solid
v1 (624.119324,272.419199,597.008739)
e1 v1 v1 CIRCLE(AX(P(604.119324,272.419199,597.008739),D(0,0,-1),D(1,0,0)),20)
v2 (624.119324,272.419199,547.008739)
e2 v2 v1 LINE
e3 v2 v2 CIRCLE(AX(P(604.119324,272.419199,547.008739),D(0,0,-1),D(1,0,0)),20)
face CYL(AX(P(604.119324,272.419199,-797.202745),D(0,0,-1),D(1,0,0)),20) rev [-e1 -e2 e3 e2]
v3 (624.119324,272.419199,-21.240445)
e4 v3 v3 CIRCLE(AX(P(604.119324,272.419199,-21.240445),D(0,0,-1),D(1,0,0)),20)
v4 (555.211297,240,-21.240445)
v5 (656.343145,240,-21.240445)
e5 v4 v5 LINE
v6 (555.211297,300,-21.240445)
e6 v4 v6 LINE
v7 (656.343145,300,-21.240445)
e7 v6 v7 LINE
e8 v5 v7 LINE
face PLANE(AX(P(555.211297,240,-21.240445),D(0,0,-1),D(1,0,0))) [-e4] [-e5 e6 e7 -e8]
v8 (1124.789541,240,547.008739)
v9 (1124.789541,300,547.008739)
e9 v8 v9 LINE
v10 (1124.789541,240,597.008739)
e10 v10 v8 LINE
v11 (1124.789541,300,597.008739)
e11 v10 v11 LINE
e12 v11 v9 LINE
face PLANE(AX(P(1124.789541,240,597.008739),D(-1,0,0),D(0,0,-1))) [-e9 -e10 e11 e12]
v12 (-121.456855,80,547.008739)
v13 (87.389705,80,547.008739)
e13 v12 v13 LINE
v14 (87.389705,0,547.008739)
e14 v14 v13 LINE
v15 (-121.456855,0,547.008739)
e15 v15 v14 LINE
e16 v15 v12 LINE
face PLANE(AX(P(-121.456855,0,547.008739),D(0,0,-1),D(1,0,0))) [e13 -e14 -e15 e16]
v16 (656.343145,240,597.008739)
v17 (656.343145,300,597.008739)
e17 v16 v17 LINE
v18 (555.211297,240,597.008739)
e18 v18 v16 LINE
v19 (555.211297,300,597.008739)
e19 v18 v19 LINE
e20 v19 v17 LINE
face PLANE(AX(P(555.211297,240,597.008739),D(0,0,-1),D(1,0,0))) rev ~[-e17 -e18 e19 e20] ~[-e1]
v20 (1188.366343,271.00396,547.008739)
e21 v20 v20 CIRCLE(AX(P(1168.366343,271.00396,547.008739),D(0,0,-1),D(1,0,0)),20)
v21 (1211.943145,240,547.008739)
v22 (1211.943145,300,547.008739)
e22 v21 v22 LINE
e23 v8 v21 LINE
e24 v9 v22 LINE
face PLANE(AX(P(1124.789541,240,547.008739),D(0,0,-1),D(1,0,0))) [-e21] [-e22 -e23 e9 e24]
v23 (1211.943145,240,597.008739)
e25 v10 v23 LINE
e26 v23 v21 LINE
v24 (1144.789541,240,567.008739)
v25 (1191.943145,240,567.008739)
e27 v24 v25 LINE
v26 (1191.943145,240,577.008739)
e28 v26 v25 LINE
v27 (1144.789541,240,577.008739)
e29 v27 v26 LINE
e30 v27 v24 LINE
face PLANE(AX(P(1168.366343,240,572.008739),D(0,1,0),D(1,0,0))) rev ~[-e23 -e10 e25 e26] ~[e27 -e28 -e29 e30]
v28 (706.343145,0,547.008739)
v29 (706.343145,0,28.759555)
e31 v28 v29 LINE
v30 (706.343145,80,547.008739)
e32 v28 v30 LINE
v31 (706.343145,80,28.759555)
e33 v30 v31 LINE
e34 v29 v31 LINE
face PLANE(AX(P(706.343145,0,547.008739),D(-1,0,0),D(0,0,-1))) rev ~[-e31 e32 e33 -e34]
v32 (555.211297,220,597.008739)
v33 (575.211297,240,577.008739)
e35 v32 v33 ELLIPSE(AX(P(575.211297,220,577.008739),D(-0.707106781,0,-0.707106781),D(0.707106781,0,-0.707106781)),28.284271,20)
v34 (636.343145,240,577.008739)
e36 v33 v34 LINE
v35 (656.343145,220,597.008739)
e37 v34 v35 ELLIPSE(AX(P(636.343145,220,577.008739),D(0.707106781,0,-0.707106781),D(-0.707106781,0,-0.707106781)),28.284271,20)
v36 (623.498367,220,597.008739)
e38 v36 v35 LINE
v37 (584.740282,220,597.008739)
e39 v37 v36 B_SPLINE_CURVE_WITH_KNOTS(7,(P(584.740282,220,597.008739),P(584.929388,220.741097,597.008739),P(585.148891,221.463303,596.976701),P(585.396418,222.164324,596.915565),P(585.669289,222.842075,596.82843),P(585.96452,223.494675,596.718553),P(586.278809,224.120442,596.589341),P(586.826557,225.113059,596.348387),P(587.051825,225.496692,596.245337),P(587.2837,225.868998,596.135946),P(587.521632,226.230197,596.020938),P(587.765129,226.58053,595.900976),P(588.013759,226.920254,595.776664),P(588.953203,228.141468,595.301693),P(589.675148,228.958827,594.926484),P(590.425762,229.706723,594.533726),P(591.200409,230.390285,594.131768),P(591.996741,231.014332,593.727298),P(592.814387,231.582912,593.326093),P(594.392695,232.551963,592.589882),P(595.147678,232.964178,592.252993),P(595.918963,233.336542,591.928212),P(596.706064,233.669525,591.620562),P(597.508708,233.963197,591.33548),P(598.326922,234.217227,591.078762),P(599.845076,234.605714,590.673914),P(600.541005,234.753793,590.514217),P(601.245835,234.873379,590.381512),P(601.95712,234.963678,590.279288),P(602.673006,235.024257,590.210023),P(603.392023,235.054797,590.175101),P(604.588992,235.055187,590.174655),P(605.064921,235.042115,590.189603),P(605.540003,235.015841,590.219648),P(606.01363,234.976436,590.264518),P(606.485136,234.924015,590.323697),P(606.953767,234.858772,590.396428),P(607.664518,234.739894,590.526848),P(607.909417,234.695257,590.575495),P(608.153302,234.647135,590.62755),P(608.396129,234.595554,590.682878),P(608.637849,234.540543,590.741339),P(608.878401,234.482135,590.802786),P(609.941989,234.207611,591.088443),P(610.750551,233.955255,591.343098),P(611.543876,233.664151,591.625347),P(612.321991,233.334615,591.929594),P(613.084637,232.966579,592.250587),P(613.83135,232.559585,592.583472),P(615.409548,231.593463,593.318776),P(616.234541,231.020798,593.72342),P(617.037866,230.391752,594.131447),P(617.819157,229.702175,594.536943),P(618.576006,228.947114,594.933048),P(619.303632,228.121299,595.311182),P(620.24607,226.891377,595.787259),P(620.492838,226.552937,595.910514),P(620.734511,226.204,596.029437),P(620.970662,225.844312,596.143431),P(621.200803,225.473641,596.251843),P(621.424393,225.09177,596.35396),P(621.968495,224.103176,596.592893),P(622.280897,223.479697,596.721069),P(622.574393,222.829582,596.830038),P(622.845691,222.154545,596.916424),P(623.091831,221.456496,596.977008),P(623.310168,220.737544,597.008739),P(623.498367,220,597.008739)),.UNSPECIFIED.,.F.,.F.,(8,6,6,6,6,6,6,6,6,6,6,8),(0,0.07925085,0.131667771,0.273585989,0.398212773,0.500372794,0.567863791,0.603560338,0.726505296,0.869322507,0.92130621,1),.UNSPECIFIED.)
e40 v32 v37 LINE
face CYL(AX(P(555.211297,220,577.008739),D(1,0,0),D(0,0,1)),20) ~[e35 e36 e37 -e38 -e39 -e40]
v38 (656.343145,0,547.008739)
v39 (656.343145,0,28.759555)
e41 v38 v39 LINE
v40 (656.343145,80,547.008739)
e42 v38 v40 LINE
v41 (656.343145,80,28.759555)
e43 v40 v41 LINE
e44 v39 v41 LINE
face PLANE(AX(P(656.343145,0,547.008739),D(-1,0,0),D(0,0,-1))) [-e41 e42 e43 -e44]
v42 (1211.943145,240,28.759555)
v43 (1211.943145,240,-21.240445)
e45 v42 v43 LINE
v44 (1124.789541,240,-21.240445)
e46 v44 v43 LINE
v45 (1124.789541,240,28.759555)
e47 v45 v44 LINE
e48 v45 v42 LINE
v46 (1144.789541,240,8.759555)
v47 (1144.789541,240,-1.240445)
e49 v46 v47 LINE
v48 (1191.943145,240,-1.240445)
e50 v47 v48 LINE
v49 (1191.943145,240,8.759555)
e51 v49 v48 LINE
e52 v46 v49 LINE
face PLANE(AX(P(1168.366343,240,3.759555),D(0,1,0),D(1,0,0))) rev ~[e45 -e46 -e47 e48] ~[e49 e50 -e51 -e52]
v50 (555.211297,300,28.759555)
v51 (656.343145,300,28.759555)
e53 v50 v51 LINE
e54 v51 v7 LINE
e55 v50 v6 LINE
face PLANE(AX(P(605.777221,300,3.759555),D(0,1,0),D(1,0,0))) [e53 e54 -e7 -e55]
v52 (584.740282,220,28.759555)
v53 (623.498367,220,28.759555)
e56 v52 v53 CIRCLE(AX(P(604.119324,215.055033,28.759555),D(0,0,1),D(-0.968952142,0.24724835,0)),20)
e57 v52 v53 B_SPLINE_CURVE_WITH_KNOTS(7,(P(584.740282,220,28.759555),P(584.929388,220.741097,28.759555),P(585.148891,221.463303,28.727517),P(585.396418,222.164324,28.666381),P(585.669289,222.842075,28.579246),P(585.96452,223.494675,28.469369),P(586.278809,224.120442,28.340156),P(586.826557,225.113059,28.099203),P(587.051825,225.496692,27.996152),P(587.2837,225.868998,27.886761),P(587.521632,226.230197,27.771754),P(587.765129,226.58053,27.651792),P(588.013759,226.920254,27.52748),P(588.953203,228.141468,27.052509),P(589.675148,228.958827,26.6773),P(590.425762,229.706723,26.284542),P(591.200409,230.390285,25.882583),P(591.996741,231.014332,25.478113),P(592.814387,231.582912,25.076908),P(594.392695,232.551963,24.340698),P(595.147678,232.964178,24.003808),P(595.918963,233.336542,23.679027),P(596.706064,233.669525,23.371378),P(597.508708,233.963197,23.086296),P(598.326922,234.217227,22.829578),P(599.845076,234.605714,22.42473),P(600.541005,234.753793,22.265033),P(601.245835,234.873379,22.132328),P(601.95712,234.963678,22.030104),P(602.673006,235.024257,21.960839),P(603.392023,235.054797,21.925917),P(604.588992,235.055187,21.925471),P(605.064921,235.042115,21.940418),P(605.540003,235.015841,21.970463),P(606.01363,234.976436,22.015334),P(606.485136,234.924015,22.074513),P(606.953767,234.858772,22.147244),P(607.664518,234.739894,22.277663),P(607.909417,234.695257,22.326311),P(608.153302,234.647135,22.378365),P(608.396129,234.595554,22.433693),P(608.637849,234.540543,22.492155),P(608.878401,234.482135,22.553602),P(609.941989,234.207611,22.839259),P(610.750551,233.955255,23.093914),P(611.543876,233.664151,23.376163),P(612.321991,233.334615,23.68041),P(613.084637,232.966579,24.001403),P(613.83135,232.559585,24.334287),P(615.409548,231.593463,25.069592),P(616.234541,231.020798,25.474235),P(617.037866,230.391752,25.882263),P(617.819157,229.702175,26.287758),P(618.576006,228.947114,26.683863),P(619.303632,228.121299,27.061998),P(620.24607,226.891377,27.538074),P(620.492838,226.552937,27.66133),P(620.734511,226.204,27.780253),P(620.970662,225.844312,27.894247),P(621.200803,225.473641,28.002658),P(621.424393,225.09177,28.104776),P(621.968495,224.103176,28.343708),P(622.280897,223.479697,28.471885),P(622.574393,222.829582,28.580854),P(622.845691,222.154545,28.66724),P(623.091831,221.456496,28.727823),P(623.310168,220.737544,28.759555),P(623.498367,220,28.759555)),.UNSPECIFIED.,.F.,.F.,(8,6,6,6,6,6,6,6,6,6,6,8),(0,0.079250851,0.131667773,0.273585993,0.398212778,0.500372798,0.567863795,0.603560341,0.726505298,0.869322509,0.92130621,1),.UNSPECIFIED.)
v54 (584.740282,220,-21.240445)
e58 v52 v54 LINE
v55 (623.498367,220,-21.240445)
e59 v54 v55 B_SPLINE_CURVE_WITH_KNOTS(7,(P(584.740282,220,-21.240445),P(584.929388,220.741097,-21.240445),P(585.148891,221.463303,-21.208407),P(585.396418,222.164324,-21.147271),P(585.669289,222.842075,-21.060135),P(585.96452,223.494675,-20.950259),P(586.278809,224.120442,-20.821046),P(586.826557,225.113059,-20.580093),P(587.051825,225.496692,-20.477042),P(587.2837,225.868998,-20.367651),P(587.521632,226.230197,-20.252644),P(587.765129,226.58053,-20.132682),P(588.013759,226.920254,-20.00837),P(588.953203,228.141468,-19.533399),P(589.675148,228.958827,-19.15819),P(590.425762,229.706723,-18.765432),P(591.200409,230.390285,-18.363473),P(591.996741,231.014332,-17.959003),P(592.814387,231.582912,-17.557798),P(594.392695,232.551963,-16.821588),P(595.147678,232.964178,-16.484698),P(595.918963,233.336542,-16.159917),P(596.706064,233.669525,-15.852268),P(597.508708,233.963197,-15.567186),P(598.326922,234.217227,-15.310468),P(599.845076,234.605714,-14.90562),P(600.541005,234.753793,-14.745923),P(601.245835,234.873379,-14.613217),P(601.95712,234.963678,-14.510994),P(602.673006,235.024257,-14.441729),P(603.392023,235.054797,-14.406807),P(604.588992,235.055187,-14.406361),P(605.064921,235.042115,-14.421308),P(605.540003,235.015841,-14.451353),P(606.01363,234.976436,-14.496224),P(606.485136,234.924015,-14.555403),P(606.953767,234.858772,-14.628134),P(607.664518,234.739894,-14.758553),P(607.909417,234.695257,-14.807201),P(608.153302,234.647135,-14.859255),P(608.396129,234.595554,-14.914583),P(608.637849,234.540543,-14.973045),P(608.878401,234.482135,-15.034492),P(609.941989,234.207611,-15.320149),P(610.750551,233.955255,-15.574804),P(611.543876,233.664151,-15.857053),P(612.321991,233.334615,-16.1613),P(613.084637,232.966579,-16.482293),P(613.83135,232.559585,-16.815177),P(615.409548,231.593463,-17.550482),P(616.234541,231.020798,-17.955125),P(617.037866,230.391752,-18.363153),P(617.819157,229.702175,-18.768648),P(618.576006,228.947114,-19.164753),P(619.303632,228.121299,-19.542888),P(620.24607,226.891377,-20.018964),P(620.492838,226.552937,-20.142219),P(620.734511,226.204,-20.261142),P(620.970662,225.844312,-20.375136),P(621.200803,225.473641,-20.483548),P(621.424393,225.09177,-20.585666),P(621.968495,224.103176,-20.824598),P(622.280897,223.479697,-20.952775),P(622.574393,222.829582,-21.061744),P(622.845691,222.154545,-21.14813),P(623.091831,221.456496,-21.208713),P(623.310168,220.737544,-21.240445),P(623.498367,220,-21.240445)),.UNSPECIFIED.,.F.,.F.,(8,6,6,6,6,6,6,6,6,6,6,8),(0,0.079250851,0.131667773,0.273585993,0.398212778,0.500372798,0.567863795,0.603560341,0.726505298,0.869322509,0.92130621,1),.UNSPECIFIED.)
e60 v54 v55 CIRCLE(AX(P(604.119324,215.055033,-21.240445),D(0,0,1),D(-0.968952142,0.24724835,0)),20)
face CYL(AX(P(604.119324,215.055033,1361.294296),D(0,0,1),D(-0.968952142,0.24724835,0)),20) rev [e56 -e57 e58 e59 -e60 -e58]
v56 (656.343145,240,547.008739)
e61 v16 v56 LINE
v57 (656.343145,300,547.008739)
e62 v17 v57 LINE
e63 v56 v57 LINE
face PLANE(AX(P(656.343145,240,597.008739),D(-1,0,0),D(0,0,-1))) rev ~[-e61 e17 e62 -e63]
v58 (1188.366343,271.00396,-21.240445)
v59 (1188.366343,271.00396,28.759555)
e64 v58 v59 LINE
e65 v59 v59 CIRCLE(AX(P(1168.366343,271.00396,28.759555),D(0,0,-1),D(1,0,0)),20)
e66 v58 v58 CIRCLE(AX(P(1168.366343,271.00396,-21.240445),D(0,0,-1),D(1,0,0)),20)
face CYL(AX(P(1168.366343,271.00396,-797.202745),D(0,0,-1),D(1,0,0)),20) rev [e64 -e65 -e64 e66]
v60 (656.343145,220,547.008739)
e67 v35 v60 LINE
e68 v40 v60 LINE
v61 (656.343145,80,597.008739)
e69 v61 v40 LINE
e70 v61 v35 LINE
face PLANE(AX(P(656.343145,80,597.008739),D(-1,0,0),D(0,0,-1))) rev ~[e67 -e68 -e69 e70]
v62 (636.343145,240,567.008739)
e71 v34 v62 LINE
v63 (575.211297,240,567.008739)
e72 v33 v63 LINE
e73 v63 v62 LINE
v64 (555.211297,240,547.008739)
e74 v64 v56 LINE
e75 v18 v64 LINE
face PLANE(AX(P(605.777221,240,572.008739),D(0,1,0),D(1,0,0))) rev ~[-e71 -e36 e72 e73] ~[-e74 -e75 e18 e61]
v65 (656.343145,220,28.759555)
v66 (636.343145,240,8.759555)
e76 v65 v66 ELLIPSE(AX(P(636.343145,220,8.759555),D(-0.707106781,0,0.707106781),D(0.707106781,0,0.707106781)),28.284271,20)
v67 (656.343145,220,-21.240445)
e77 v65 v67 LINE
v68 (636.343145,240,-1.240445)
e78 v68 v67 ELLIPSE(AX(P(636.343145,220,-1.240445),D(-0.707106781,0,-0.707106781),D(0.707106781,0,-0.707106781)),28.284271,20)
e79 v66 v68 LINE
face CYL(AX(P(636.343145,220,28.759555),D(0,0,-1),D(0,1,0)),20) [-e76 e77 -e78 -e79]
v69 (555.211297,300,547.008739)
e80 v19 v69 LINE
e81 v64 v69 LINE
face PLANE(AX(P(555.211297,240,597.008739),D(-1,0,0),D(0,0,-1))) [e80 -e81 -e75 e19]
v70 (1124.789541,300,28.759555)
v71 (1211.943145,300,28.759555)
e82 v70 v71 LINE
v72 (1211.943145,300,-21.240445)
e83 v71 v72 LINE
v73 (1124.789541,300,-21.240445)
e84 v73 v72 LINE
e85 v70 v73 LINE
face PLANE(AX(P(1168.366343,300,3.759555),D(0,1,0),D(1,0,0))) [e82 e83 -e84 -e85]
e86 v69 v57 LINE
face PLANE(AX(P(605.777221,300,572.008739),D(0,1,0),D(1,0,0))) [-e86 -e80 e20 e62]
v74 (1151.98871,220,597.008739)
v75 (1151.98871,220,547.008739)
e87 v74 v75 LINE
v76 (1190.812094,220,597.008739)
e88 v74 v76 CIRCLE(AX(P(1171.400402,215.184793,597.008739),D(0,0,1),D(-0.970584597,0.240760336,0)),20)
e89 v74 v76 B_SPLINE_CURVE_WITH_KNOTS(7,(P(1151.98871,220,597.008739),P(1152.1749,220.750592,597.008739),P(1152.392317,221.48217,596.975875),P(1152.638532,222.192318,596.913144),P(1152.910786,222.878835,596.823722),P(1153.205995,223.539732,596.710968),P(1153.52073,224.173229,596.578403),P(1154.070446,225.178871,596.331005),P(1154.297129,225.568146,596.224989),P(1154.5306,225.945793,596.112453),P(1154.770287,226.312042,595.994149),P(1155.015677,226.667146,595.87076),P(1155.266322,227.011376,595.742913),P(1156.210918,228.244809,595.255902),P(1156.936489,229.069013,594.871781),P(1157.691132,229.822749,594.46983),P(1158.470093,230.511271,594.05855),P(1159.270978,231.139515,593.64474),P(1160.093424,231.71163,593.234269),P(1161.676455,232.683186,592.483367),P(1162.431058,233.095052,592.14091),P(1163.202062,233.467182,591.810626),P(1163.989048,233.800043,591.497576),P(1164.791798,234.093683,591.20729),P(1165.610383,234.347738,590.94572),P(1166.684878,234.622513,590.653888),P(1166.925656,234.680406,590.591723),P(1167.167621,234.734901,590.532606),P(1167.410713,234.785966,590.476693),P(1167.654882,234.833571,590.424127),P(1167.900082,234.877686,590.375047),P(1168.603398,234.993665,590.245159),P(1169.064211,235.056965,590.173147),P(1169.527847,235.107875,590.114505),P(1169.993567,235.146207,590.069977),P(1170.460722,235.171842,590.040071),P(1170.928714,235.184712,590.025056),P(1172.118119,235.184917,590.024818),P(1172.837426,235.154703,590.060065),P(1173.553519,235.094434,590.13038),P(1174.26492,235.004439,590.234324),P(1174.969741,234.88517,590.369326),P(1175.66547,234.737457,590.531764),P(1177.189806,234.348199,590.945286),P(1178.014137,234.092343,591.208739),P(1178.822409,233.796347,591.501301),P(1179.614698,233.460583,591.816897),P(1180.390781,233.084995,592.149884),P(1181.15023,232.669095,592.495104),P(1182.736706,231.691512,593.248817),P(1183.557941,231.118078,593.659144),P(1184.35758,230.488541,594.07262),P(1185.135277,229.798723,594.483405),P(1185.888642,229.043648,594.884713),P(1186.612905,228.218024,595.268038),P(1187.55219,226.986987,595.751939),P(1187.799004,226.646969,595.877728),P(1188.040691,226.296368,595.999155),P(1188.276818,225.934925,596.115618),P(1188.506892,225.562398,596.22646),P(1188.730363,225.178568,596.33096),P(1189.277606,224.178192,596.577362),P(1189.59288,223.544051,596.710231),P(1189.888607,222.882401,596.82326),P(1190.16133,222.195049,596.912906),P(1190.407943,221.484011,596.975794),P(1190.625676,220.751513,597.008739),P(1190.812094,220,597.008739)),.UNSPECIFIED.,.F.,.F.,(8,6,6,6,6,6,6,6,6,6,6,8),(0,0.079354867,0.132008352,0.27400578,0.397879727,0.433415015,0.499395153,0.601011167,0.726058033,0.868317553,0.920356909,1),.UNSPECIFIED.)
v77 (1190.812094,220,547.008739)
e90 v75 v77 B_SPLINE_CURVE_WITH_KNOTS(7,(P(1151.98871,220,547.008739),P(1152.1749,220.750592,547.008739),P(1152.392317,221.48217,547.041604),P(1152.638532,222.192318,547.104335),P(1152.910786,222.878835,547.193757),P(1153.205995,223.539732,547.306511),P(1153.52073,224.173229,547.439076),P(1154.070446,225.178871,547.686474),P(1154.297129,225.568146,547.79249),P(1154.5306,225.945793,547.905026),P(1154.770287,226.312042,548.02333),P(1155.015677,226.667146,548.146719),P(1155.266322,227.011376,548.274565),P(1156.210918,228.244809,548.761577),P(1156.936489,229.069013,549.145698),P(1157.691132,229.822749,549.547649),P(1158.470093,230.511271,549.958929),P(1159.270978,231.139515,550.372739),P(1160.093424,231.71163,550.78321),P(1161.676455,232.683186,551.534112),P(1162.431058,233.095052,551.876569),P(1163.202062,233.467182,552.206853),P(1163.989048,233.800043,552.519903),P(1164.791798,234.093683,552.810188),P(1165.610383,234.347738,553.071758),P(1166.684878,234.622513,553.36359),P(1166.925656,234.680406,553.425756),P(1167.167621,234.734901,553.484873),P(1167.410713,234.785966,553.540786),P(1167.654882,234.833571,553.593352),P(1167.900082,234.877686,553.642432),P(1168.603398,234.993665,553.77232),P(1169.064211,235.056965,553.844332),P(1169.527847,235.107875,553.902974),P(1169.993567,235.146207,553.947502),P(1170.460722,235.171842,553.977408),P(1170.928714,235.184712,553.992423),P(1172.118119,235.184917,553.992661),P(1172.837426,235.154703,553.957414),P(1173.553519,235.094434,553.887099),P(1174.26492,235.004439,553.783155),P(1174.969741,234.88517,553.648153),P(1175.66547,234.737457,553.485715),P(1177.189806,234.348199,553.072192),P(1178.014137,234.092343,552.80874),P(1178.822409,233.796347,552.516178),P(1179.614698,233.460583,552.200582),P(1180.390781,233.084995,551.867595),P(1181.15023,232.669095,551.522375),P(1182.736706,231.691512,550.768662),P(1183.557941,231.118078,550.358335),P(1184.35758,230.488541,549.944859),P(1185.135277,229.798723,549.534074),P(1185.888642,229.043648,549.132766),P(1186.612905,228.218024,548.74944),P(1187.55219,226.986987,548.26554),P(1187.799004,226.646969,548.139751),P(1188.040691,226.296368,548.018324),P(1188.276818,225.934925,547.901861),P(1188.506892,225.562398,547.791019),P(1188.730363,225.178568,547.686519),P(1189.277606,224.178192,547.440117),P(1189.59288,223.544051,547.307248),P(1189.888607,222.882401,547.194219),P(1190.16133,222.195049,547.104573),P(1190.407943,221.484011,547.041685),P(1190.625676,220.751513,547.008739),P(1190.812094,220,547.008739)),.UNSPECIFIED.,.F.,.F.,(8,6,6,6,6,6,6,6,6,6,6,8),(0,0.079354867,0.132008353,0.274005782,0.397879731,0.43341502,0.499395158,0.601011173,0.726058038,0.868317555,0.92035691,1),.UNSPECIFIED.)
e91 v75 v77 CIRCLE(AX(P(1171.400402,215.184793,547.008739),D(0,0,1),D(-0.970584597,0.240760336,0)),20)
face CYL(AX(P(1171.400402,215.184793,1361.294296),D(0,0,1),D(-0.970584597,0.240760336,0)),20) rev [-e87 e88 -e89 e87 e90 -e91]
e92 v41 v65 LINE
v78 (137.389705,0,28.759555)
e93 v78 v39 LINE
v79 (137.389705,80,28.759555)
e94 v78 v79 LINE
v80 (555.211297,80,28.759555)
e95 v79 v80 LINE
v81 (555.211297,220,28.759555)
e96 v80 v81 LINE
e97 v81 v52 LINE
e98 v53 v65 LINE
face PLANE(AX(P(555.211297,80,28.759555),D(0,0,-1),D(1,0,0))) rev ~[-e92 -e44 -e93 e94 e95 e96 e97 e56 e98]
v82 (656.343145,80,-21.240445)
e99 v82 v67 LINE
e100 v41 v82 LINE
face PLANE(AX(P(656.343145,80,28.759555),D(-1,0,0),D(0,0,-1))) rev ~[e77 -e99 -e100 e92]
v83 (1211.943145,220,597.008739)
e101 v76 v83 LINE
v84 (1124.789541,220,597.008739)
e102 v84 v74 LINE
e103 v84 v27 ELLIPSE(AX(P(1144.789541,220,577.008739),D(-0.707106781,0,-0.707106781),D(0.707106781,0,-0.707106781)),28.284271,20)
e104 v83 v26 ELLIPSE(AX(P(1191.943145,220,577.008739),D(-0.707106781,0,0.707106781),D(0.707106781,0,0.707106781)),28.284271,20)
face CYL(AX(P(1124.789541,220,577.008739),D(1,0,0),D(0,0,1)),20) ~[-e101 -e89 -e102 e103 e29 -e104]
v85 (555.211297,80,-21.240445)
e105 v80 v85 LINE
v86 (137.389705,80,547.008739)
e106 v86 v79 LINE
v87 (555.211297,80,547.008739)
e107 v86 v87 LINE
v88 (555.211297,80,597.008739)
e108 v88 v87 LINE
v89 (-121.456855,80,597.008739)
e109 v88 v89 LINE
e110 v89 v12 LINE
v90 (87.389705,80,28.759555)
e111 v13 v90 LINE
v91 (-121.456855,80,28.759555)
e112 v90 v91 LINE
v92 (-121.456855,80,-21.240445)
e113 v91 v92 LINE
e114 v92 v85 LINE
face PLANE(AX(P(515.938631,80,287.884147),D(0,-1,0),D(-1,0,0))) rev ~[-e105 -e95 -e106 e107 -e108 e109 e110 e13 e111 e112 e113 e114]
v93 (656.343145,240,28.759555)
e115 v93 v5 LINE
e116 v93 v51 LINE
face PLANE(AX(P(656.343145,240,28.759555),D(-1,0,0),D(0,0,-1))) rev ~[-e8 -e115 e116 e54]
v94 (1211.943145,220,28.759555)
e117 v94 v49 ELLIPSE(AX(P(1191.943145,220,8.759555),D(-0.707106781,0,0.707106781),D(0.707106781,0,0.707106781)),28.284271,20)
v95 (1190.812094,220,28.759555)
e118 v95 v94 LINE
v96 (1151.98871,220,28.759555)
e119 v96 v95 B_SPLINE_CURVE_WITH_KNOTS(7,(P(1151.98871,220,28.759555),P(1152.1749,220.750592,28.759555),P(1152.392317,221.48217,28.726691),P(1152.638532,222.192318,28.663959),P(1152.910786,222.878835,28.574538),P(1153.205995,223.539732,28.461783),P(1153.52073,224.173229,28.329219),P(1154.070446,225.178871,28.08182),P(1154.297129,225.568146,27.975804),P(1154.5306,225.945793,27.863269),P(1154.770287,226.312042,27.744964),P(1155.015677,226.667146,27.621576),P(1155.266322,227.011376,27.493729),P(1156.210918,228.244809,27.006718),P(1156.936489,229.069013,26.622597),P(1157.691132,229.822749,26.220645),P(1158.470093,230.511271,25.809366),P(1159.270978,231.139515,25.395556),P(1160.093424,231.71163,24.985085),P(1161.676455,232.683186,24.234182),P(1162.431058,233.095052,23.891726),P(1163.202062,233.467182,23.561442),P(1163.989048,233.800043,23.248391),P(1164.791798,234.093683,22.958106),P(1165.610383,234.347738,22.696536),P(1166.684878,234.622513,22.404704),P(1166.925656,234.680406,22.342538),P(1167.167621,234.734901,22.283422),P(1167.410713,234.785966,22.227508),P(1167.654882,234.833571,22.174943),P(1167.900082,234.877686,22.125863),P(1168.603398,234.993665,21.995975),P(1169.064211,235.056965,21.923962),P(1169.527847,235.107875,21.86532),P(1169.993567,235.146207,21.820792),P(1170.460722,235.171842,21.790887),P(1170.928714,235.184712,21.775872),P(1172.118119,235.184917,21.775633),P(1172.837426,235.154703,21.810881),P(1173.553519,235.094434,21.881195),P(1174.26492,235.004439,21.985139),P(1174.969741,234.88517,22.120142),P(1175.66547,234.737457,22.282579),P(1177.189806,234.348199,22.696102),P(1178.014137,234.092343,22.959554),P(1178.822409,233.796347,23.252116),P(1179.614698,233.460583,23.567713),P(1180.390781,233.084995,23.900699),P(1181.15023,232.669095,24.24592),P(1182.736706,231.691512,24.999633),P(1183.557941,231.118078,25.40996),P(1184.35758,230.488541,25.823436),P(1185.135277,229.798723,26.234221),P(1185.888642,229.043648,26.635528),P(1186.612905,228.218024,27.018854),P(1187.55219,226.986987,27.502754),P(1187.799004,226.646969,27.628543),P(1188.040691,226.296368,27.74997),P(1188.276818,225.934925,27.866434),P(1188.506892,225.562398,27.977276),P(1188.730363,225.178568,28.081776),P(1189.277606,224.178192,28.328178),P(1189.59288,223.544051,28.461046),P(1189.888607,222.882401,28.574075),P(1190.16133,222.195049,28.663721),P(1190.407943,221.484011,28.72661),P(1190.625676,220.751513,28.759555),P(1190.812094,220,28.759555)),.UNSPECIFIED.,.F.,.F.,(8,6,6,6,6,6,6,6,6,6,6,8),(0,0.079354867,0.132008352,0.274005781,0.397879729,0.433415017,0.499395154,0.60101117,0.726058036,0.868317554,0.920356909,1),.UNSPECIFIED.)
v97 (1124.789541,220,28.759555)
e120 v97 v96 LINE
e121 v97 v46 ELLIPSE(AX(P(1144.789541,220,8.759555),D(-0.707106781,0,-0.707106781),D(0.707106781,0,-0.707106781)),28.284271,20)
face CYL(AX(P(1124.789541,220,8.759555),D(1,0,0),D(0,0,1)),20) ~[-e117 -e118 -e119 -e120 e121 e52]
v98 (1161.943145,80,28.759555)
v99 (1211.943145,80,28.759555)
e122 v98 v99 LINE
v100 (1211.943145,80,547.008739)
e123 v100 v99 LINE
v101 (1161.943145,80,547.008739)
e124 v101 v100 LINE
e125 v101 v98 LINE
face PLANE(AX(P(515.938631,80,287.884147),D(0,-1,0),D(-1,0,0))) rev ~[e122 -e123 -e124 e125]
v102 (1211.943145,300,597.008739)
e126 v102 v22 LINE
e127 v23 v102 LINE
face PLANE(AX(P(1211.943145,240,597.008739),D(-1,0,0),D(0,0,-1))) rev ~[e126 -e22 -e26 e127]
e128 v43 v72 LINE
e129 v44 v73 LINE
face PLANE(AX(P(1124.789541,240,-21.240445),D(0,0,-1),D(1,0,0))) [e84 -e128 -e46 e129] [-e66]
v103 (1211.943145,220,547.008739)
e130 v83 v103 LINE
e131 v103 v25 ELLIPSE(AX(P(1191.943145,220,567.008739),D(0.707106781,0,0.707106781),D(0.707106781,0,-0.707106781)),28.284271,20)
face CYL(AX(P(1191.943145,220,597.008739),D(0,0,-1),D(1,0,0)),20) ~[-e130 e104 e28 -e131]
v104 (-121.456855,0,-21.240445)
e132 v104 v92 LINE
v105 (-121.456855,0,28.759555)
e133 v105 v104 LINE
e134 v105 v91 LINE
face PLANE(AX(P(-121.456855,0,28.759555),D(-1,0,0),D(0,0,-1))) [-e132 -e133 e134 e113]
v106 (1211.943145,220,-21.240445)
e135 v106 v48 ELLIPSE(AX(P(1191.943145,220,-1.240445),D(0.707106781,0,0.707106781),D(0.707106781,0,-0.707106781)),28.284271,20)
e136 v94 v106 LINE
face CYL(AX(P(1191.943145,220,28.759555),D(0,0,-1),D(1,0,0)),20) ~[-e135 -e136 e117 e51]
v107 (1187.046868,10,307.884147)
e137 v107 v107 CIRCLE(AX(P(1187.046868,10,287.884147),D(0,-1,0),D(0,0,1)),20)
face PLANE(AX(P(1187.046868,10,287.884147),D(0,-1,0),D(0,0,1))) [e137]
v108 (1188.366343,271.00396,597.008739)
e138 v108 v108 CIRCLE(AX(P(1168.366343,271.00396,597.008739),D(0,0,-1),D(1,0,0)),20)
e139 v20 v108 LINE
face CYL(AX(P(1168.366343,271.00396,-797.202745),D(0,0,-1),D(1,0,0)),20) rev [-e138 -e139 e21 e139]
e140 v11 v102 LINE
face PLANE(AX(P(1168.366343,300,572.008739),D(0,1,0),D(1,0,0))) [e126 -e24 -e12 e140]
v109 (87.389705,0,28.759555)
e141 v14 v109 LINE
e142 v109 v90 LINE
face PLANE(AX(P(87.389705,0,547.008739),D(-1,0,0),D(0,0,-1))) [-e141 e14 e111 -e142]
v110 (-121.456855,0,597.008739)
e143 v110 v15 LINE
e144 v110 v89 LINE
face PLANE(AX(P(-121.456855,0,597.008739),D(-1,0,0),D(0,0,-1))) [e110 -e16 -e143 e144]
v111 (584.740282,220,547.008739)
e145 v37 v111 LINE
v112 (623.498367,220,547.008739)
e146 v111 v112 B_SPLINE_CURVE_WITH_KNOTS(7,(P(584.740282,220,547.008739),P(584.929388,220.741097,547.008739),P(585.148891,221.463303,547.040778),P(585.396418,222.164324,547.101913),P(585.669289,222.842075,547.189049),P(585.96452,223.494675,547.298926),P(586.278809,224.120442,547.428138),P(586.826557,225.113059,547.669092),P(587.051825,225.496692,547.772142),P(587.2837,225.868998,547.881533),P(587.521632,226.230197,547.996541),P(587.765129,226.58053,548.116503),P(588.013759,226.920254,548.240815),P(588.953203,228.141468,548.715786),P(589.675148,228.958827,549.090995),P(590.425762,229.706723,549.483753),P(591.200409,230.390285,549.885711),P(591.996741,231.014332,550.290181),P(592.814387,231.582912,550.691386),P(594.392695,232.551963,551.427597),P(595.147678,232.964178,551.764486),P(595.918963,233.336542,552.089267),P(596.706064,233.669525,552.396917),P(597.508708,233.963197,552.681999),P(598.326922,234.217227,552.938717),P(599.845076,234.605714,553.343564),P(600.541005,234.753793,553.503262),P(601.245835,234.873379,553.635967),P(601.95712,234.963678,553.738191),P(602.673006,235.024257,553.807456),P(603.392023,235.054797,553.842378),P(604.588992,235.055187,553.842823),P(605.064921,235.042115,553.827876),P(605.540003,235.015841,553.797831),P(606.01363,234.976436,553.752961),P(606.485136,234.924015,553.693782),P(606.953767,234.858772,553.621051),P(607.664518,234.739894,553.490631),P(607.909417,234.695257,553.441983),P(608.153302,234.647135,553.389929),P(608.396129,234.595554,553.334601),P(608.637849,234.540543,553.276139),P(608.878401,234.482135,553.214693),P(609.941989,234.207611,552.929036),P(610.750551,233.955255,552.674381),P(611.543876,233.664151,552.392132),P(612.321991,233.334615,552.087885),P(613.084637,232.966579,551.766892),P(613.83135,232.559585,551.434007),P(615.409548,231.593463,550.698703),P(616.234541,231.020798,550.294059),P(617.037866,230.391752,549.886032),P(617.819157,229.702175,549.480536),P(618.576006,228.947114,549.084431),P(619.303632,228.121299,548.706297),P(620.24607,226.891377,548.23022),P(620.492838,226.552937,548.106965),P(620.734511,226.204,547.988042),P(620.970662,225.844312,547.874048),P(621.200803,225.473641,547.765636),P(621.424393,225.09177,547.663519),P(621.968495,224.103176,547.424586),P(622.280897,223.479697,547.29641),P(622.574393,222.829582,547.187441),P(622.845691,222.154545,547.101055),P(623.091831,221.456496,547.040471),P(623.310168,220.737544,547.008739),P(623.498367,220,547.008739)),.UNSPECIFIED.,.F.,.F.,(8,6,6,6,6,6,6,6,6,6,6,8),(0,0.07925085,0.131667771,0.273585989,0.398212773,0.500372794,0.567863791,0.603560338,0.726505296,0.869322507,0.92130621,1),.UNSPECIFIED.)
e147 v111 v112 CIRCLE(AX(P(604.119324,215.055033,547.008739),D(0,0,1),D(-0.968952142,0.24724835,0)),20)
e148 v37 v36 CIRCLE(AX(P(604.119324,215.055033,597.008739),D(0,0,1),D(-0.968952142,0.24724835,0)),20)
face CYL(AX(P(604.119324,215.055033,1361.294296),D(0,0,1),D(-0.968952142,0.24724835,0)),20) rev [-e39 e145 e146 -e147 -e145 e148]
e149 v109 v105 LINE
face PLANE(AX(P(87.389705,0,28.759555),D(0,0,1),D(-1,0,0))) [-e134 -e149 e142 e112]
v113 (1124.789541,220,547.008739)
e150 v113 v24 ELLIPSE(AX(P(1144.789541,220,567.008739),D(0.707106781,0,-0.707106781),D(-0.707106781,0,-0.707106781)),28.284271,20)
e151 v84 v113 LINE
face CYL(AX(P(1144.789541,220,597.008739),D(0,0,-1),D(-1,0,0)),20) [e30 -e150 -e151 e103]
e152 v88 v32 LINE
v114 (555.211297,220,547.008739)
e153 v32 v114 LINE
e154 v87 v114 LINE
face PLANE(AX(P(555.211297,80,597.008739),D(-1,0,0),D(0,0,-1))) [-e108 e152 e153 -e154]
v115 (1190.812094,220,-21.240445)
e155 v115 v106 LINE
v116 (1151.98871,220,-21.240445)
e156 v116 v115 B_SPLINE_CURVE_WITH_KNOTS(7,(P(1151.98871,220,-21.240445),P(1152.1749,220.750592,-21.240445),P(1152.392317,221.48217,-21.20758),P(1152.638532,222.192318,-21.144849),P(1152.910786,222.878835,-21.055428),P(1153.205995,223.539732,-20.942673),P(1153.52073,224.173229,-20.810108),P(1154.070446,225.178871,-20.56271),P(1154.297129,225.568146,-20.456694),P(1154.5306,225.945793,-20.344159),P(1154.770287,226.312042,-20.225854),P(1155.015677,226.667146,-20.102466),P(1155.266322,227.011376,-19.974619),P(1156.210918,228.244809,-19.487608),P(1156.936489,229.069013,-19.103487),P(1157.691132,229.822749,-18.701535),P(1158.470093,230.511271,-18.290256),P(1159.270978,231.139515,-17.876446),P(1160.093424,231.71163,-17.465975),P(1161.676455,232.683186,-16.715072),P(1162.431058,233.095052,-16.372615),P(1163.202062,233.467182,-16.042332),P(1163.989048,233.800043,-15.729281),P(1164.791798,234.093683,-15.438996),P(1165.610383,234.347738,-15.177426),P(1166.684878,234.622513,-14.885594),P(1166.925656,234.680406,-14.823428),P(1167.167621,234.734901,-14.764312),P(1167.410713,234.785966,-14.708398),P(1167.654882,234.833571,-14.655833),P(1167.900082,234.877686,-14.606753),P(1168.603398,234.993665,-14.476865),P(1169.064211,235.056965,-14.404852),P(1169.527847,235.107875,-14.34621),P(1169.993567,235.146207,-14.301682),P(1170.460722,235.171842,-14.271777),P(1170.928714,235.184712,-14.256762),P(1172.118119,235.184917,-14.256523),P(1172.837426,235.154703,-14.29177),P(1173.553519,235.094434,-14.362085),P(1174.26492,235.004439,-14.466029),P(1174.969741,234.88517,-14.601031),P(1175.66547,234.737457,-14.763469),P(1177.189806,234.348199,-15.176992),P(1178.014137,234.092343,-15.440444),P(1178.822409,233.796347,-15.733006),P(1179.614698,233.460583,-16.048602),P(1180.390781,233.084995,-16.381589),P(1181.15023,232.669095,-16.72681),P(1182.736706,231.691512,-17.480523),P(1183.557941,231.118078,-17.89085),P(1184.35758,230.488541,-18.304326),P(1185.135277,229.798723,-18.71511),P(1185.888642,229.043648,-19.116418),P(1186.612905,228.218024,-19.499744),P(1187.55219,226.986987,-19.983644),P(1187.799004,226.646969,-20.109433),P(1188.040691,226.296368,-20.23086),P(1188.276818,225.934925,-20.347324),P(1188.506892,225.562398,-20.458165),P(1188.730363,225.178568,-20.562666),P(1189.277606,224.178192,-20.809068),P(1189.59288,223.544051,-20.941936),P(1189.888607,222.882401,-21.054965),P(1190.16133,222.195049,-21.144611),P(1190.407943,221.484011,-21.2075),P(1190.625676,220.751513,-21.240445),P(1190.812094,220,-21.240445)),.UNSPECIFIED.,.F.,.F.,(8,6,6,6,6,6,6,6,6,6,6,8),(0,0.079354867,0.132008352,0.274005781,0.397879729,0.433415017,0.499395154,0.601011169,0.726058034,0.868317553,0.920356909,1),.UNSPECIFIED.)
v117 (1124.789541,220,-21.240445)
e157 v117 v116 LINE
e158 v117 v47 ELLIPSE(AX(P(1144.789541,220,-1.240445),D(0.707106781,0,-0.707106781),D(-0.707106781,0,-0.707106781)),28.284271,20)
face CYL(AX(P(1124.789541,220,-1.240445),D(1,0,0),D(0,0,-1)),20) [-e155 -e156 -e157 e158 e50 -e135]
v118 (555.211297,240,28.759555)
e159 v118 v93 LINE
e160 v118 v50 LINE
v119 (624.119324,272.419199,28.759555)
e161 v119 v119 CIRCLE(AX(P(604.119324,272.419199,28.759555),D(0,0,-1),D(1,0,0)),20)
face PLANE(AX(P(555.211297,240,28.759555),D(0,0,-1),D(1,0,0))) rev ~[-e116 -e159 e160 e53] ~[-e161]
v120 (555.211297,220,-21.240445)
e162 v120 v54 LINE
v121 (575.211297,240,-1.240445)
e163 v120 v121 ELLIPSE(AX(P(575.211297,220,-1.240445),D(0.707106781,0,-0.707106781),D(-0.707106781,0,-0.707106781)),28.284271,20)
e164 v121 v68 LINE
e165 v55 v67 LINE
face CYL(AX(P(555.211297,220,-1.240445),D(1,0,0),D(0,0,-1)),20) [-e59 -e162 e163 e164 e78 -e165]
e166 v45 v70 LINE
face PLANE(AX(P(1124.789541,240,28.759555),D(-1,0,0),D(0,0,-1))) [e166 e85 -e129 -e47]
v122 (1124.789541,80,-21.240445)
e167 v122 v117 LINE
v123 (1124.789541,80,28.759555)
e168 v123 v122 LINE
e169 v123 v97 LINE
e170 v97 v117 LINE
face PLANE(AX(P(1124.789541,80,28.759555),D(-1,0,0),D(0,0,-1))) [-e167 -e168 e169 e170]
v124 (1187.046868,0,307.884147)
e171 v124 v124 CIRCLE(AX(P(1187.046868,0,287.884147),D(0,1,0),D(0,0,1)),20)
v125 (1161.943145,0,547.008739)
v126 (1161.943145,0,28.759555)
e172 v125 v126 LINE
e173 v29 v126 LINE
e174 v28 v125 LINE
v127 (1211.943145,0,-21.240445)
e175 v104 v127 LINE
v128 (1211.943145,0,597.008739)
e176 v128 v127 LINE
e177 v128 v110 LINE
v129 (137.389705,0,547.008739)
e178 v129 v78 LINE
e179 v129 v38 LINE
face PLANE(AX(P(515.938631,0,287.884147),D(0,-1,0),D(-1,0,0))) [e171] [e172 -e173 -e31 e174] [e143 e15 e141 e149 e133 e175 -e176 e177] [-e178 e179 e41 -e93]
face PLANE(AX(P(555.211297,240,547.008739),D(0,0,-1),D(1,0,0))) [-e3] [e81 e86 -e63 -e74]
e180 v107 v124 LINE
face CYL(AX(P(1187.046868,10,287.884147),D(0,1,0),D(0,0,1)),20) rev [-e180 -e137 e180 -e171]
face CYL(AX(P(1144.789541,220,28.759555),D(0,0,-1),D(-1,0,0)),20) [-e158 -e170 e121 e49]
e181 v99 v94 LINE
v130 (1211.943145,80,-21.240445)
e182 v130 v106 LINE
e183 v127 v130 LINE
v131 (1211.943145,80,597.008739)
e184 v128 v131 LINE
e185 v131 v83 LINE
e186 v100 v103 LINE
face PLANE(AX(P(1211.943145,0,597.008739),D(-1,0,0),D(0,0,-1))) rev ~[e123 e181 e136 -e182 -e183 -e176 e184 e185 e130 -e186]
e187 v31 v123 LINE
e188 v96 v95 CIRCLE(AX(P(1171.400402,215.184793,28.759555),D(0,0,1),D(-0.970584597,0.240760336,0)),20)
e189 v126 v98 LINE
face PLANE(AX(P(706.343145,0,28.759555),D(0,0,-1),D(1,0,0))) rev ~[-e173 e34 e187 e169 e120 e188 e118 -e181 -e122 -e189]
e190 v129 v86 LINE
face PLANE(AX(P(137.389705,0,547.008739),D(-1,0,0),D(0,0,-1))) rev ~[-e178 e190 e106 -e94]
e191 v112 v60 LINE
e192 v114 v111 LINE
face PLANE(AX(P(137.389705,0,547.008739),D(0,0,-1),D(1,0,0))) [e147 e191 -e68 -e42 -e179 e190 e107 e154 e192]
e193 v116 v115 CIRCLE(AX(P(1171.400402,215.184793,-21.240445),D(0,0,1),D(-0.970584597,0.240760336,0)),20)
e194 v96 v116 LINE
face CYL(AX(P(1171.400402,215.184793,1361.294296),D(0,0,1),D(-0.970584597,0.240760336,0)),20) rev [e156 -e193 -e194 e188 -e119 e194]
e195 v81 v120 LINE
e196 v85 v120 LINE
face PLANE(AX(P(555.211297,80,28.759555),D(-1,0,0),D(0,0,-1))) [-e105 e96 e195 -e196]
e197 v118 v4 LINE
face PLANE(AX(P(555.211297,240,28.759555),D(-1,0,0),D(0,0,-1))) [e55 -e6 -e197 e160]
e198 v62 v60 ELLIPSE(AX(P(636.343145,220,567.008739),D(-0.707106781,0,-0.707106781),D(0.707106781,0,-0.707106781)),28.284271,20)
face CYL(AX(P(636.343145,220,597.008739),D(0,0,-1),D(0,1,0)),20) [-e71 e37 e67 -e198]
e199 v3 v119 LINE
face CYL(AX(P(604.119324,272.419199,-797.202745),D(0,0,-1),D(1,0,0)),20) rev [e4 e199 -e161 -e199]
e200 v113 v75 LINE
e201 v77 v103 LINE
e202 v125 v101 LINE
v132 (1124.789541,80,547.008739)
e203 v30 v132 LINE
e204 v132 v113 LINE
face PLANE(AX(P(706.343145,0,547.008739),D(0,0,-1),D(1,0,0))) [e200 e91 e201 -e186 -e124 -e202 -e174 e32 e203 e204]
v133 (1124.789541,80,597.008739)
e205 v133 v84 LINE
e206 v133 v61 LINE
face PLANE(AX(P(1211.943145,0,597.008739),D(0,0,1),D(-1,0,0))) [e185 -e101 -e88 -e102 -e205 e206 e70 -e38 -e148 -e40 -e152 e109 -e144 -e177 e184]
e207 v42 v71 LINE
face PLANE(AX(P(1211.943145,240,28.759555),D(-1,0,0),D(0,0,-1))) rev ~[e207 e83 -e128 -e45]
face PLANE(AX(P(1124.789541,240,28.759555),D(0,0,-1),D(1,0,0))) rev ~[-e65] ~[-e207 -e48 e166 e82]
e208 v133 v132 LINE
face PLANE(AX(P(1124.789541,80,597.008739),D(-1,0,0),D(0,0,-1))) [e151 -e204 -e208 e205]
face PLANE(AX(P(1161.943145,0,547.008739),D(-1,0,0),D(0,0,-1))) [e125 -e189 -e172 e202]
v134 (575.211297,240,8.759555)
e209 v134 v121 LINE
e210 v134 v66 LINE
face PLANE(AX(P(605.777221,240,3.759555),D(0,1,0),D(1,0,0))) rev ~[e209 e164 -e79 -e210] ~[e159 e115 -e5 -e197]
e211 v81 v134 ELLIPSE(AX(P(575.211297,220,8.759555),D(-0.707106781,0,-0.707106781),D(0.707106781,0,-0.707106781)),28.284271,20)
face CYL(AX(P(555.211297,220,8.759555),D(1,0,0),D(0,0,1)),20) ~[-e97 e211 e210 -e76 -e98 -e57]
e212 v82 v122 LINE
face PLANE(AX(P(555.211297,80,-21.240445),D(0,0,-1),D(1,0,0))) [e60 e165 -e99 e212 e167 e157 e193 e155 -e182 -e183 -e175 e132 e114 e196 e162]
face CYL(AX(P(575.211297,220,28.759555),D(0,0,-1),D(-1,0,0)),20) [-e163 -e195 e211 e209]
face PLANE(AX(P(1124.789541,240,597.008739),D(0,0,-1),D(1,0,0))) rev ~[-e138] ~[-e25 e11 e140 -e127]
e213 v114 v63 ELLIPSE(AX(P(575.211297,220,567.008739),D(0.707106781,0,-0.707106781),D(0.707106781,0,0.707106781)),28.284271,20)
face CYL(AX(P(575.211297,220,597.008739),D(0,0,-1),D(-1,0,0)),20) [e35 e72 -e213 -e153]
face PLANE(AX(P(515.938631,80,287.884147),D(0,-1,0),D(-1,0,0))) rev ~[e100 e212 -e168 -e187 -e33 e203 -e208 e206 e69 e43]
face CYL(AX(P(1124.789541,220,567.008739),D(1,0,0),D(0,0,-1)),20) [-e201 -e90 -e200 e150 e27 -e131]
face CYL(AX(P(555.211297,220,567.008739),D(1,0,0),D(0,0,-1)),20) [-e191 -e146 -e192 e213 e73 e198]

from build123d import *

# Parameters (mm, degrees)
SKETCH1_W               = 518.953439809
SKETCH1_H               = 518.249184403
SKETCH1_W_2             = 455.6
BOSS_EXTRUDE3_DEPTH     = 80
SKETCH2_W               = 101.131848524
SKETCH2_H               = 50
SKETCH2_W_2             = 87.153604081
BOSS_EXTRUDE4_DEPTH     = 160
FILLET1_R               = 20
CUT_EXTRUDE3_DEPTH      = 1373.160931607
CUT_EXTRUDE3_DEPTH_BACK = 10
SKETCH5_R               = 20
CUT_EXTRUDE4_DEPTH      = 1382.534741242
CUT_EXTRUDE4_DEPTH_BACK = 1382.534741242
SKETCH3_R               = 20
CUT_EXTRUDE5_DEPTH      = 1382.534741304
CUT_EXTRUDE5_DEPTH_BACK = 1382.534741304
SKETCH4_R               = 20
SKETCH6_W               = 101.131848524
SKETCH6_H               = 50
BOSS_EXTRUDE5_DEPTH     = 60
CUT_EXTRUDE6_DEPTH      = 1394.211484888
CUT_EXTRUDE6_DEPTH_BACK = 1394.211484888
SKETCH7_R               = 20
SKETCH8_W               = 87.153604081
SKETCH8_H               = 50
BOSS_EXTRUDE6_DEPTH     = 60
CUT_EXTRUDE7_DEPTH      = 1394.211484888
CUT_EXTRUDE7_DEPTH_BACK = 1394.211484888
SKETCH9_R               = 20


with BuildPart() as part:
    # Sketch1 → Boss-Extrude3 (new body)
    with BuildSketch(Plane(origin=(0, 0, 0), x_dir=(1, 0, 0), z_dir=(0, 1, 0))):
        Polygon((-121.456854781, 21.240444949), (1211.943145219, 21.240444949), (1211.943145219, -50.701004169), (1211.943145219, -568.950188572), (1211.943145219, -597.008739454), (-121.456854781, -597.008739454), (-121.456854781, -547.008739454), (87.38970541, -547.008739454), (87.38970541, -28.759555051), (-121.456854781, -28.759555051), align=None)
        with Locations((396.866425315, -287.884147253)):
            Rectangle(SKETCH1_W, SKETCH1_H, mode=Mode.SUBTRACT)
        with Locations((934.143145219, -287.884147253)):
            Rectangle(SKETCH1_W_2, SKETCH1_H, mode=Mode.SUBTRACT)
    extrude(amount=BOSS_EXTRUDE3_DEPTH)

    # Sketch2 → Boss-Extrude4 (add)
    with BuildSketch(Plane(origin=(0, 80, 0), x_dir=(1, 0, 0), z_dir=(0, 1, 0))):
        with Locations((605.777220957, -3.759555051)):
            Rectangle(SKETCH2_W, SKETCH2_H)
        with Locations((1168.366343179, -3.759555051)):
            Rectangle(SKETCH2_W_2, SKETCH2_H)
        with Locations((605.777220957, -572.008739454)):
            Rectangle(SKETCH2_W, SKETCH2_H)
        with Locations((1168.366343179, -572.008739454)):
            Rectangle(SKETCH2_W_2, SKETCH2_H)
    extrude(amount=BOSS_EXTRUDE4_DEPTH)

    # Fillet1
    fillet1_edges = [part.edges().sort_by_distance(p)[0] for p in [
        (656.343145219, 240, 572.008739454),
        (605.777220957, 240, 547.008739454),
        (555.211296695, 240, 572.008739454),
        (605.777220957, 240, 597.008739454),
        (1124.789541138, 240, 3.759555051),
        (1168.366343178, 240, 28.759555051),
        (1211.943145219, 240, 3.759555051),
        (1168.366343178, 240, -21.240444949),
        (1124.789541138, 240, 572.008739454),
        (1168.366343178, 240, 597.008739454),
        (1211.943145219, 240, 572.008739454),
        (1168.366343178, 240, 547.008739454),
        (555.211296695, 240, 3.759555051),
        (605.777220957, 240, 28.759555051),
        (656.343145219, 240, 3.759555051),
        (605.777220957, 240, -21.240444949),
    ]]
    fillet(fillet1_edges, radius=FILLET1_R)

    # Sketch5 → Cut-Extrude3 (cut, two sides: drawn at the far end of the back side and taken through both)
    with BuildSketch(Plane(origin=(0, 0, 0), x_dir=(-1, 0, 0), z_dir=(0, -1, 0)).offset(-CUT_EXTRUDE3_DEPTH_BACK)):
        with Locations(Location((-1187.046867592, -287.884147253, 0), (0, 0, 270))):
            Circle(SKETCH5_R)
    extrude(amount=CUT_EXTRUDE3_DEPTH + CUT_EXTRUDE3_DEPTH_BACK, mode=Mode.SUBTRACT)

    # Sketch3 → Cut-Extrude4 (cut, two sides: drawn at the far end of the back side and taken through both)
    with BuildSketch(Plane(origin=(0, 0, -21.240444949), x_dir=(-1, 0, 0), z_dir=(0, 0, -1)).offset(-CUT_EXTRUDE4_DEPTH_BACK)):
        with Locations(Location((-604.119324359, 215.055032995, 0), (0, 0, 14.314743265))):
            Circle(SKETCH3_R)
    extrude(amount=CUT_EXTRUDE4_DEPTH + CUT_EXTRUDE4_DEPTH_BACK, mode=Mode.SUBTRACT)

    # Sketch4 → Cut-Extrude5 (cut, two sides: drawn at the far end of the back side and taken through both)
    with BuildSketch(Plane(origin=(0, 0, -21.240444949), x_dir=(-1, 0, 0), z_dir=(0, 0, -1)).offset(-CUT_EXTRUDE5_DEPTH_BACK)):
        with Locations(Location((-1171.400402377, 215.184793276, 0), (0, 0, 13.931420355))):
            Circle(SKETCH4_R)
    extrude(amount=CUT_EXTRUDE5_DEPTH + CUT_EXTRUDE5_DEPTH_BACK, mode=Mode.SUBTRACT)

    # Sketch6 → Boss-Extrude5 (add)
    with BuildSketch(Plane(origin=(0, 240, 0), x_dir=(1, 0, 0), z_dir=(0, 1, 0))):
        with Locations((605.777220957, -3.759555051)):
            Rectangle(SKETCH6_W, SKETCH6_H)
        with Locations((605.777220957, -572.008739454)):
            Rectangle(SKETCH6_W, SKETCH6_H)
    extrude(amount=BOSS_EXTRUDE5_DEPTH)

    # Sketch7 → Cut-Extrude6 (cut, two sides: drawn at the far end of the back side and taken through both)
    with BuildSketch(Plane.XY.offset(597.008739454).offset(-CUT_EXTRUDE6_DEPTH_BACK)):
        with Locations((604.119324359, 272.419198887)):
            Circle(SKETCH7_R)
    extrude(amount=CUT_EXTRUDE6_DEPTH + CUT_EXTRUDE6_DEPTH_BACK, mode=Mode.SUBTRACT)

    # Sketch8 → Boss-Extrude6 (add)
    with BuildSketch(Plane(origin=(0, 240, 0), x_dir=(1, 0, 0), z_dir=(0, 1, 0))):
        with Locations((1168.366343179, -572.008739454)):
            Rectangle(SKETCH8_W, SKETCH8_H)
        with Locations((1168.366343179, -3.759555051)):
            Rectangle(SKETCH8_W, SKETCH8_H)
    extrude(amount=BOSS_EXTRUDE6_DEPTH)

    # Sketch9 → Cut-Extrude7 (cut, two sides: drawn at the far end of the back side and taken through both)
    with BuildSketch(Plane.XY.offset(597.008739454).offset(-CUT_EXTRUDE7_DEPTH_BACK)):
        with Locations((1168.366343178, 271.00396048)):
            Circle(SKETCH9_R)
    extrude(amount=CUT_EXTRUDE7_DEPTH + CUT_EXTRUDE7_DEPTH_BACK, mode=Mode.SUBTRACT)


solid = part.part
